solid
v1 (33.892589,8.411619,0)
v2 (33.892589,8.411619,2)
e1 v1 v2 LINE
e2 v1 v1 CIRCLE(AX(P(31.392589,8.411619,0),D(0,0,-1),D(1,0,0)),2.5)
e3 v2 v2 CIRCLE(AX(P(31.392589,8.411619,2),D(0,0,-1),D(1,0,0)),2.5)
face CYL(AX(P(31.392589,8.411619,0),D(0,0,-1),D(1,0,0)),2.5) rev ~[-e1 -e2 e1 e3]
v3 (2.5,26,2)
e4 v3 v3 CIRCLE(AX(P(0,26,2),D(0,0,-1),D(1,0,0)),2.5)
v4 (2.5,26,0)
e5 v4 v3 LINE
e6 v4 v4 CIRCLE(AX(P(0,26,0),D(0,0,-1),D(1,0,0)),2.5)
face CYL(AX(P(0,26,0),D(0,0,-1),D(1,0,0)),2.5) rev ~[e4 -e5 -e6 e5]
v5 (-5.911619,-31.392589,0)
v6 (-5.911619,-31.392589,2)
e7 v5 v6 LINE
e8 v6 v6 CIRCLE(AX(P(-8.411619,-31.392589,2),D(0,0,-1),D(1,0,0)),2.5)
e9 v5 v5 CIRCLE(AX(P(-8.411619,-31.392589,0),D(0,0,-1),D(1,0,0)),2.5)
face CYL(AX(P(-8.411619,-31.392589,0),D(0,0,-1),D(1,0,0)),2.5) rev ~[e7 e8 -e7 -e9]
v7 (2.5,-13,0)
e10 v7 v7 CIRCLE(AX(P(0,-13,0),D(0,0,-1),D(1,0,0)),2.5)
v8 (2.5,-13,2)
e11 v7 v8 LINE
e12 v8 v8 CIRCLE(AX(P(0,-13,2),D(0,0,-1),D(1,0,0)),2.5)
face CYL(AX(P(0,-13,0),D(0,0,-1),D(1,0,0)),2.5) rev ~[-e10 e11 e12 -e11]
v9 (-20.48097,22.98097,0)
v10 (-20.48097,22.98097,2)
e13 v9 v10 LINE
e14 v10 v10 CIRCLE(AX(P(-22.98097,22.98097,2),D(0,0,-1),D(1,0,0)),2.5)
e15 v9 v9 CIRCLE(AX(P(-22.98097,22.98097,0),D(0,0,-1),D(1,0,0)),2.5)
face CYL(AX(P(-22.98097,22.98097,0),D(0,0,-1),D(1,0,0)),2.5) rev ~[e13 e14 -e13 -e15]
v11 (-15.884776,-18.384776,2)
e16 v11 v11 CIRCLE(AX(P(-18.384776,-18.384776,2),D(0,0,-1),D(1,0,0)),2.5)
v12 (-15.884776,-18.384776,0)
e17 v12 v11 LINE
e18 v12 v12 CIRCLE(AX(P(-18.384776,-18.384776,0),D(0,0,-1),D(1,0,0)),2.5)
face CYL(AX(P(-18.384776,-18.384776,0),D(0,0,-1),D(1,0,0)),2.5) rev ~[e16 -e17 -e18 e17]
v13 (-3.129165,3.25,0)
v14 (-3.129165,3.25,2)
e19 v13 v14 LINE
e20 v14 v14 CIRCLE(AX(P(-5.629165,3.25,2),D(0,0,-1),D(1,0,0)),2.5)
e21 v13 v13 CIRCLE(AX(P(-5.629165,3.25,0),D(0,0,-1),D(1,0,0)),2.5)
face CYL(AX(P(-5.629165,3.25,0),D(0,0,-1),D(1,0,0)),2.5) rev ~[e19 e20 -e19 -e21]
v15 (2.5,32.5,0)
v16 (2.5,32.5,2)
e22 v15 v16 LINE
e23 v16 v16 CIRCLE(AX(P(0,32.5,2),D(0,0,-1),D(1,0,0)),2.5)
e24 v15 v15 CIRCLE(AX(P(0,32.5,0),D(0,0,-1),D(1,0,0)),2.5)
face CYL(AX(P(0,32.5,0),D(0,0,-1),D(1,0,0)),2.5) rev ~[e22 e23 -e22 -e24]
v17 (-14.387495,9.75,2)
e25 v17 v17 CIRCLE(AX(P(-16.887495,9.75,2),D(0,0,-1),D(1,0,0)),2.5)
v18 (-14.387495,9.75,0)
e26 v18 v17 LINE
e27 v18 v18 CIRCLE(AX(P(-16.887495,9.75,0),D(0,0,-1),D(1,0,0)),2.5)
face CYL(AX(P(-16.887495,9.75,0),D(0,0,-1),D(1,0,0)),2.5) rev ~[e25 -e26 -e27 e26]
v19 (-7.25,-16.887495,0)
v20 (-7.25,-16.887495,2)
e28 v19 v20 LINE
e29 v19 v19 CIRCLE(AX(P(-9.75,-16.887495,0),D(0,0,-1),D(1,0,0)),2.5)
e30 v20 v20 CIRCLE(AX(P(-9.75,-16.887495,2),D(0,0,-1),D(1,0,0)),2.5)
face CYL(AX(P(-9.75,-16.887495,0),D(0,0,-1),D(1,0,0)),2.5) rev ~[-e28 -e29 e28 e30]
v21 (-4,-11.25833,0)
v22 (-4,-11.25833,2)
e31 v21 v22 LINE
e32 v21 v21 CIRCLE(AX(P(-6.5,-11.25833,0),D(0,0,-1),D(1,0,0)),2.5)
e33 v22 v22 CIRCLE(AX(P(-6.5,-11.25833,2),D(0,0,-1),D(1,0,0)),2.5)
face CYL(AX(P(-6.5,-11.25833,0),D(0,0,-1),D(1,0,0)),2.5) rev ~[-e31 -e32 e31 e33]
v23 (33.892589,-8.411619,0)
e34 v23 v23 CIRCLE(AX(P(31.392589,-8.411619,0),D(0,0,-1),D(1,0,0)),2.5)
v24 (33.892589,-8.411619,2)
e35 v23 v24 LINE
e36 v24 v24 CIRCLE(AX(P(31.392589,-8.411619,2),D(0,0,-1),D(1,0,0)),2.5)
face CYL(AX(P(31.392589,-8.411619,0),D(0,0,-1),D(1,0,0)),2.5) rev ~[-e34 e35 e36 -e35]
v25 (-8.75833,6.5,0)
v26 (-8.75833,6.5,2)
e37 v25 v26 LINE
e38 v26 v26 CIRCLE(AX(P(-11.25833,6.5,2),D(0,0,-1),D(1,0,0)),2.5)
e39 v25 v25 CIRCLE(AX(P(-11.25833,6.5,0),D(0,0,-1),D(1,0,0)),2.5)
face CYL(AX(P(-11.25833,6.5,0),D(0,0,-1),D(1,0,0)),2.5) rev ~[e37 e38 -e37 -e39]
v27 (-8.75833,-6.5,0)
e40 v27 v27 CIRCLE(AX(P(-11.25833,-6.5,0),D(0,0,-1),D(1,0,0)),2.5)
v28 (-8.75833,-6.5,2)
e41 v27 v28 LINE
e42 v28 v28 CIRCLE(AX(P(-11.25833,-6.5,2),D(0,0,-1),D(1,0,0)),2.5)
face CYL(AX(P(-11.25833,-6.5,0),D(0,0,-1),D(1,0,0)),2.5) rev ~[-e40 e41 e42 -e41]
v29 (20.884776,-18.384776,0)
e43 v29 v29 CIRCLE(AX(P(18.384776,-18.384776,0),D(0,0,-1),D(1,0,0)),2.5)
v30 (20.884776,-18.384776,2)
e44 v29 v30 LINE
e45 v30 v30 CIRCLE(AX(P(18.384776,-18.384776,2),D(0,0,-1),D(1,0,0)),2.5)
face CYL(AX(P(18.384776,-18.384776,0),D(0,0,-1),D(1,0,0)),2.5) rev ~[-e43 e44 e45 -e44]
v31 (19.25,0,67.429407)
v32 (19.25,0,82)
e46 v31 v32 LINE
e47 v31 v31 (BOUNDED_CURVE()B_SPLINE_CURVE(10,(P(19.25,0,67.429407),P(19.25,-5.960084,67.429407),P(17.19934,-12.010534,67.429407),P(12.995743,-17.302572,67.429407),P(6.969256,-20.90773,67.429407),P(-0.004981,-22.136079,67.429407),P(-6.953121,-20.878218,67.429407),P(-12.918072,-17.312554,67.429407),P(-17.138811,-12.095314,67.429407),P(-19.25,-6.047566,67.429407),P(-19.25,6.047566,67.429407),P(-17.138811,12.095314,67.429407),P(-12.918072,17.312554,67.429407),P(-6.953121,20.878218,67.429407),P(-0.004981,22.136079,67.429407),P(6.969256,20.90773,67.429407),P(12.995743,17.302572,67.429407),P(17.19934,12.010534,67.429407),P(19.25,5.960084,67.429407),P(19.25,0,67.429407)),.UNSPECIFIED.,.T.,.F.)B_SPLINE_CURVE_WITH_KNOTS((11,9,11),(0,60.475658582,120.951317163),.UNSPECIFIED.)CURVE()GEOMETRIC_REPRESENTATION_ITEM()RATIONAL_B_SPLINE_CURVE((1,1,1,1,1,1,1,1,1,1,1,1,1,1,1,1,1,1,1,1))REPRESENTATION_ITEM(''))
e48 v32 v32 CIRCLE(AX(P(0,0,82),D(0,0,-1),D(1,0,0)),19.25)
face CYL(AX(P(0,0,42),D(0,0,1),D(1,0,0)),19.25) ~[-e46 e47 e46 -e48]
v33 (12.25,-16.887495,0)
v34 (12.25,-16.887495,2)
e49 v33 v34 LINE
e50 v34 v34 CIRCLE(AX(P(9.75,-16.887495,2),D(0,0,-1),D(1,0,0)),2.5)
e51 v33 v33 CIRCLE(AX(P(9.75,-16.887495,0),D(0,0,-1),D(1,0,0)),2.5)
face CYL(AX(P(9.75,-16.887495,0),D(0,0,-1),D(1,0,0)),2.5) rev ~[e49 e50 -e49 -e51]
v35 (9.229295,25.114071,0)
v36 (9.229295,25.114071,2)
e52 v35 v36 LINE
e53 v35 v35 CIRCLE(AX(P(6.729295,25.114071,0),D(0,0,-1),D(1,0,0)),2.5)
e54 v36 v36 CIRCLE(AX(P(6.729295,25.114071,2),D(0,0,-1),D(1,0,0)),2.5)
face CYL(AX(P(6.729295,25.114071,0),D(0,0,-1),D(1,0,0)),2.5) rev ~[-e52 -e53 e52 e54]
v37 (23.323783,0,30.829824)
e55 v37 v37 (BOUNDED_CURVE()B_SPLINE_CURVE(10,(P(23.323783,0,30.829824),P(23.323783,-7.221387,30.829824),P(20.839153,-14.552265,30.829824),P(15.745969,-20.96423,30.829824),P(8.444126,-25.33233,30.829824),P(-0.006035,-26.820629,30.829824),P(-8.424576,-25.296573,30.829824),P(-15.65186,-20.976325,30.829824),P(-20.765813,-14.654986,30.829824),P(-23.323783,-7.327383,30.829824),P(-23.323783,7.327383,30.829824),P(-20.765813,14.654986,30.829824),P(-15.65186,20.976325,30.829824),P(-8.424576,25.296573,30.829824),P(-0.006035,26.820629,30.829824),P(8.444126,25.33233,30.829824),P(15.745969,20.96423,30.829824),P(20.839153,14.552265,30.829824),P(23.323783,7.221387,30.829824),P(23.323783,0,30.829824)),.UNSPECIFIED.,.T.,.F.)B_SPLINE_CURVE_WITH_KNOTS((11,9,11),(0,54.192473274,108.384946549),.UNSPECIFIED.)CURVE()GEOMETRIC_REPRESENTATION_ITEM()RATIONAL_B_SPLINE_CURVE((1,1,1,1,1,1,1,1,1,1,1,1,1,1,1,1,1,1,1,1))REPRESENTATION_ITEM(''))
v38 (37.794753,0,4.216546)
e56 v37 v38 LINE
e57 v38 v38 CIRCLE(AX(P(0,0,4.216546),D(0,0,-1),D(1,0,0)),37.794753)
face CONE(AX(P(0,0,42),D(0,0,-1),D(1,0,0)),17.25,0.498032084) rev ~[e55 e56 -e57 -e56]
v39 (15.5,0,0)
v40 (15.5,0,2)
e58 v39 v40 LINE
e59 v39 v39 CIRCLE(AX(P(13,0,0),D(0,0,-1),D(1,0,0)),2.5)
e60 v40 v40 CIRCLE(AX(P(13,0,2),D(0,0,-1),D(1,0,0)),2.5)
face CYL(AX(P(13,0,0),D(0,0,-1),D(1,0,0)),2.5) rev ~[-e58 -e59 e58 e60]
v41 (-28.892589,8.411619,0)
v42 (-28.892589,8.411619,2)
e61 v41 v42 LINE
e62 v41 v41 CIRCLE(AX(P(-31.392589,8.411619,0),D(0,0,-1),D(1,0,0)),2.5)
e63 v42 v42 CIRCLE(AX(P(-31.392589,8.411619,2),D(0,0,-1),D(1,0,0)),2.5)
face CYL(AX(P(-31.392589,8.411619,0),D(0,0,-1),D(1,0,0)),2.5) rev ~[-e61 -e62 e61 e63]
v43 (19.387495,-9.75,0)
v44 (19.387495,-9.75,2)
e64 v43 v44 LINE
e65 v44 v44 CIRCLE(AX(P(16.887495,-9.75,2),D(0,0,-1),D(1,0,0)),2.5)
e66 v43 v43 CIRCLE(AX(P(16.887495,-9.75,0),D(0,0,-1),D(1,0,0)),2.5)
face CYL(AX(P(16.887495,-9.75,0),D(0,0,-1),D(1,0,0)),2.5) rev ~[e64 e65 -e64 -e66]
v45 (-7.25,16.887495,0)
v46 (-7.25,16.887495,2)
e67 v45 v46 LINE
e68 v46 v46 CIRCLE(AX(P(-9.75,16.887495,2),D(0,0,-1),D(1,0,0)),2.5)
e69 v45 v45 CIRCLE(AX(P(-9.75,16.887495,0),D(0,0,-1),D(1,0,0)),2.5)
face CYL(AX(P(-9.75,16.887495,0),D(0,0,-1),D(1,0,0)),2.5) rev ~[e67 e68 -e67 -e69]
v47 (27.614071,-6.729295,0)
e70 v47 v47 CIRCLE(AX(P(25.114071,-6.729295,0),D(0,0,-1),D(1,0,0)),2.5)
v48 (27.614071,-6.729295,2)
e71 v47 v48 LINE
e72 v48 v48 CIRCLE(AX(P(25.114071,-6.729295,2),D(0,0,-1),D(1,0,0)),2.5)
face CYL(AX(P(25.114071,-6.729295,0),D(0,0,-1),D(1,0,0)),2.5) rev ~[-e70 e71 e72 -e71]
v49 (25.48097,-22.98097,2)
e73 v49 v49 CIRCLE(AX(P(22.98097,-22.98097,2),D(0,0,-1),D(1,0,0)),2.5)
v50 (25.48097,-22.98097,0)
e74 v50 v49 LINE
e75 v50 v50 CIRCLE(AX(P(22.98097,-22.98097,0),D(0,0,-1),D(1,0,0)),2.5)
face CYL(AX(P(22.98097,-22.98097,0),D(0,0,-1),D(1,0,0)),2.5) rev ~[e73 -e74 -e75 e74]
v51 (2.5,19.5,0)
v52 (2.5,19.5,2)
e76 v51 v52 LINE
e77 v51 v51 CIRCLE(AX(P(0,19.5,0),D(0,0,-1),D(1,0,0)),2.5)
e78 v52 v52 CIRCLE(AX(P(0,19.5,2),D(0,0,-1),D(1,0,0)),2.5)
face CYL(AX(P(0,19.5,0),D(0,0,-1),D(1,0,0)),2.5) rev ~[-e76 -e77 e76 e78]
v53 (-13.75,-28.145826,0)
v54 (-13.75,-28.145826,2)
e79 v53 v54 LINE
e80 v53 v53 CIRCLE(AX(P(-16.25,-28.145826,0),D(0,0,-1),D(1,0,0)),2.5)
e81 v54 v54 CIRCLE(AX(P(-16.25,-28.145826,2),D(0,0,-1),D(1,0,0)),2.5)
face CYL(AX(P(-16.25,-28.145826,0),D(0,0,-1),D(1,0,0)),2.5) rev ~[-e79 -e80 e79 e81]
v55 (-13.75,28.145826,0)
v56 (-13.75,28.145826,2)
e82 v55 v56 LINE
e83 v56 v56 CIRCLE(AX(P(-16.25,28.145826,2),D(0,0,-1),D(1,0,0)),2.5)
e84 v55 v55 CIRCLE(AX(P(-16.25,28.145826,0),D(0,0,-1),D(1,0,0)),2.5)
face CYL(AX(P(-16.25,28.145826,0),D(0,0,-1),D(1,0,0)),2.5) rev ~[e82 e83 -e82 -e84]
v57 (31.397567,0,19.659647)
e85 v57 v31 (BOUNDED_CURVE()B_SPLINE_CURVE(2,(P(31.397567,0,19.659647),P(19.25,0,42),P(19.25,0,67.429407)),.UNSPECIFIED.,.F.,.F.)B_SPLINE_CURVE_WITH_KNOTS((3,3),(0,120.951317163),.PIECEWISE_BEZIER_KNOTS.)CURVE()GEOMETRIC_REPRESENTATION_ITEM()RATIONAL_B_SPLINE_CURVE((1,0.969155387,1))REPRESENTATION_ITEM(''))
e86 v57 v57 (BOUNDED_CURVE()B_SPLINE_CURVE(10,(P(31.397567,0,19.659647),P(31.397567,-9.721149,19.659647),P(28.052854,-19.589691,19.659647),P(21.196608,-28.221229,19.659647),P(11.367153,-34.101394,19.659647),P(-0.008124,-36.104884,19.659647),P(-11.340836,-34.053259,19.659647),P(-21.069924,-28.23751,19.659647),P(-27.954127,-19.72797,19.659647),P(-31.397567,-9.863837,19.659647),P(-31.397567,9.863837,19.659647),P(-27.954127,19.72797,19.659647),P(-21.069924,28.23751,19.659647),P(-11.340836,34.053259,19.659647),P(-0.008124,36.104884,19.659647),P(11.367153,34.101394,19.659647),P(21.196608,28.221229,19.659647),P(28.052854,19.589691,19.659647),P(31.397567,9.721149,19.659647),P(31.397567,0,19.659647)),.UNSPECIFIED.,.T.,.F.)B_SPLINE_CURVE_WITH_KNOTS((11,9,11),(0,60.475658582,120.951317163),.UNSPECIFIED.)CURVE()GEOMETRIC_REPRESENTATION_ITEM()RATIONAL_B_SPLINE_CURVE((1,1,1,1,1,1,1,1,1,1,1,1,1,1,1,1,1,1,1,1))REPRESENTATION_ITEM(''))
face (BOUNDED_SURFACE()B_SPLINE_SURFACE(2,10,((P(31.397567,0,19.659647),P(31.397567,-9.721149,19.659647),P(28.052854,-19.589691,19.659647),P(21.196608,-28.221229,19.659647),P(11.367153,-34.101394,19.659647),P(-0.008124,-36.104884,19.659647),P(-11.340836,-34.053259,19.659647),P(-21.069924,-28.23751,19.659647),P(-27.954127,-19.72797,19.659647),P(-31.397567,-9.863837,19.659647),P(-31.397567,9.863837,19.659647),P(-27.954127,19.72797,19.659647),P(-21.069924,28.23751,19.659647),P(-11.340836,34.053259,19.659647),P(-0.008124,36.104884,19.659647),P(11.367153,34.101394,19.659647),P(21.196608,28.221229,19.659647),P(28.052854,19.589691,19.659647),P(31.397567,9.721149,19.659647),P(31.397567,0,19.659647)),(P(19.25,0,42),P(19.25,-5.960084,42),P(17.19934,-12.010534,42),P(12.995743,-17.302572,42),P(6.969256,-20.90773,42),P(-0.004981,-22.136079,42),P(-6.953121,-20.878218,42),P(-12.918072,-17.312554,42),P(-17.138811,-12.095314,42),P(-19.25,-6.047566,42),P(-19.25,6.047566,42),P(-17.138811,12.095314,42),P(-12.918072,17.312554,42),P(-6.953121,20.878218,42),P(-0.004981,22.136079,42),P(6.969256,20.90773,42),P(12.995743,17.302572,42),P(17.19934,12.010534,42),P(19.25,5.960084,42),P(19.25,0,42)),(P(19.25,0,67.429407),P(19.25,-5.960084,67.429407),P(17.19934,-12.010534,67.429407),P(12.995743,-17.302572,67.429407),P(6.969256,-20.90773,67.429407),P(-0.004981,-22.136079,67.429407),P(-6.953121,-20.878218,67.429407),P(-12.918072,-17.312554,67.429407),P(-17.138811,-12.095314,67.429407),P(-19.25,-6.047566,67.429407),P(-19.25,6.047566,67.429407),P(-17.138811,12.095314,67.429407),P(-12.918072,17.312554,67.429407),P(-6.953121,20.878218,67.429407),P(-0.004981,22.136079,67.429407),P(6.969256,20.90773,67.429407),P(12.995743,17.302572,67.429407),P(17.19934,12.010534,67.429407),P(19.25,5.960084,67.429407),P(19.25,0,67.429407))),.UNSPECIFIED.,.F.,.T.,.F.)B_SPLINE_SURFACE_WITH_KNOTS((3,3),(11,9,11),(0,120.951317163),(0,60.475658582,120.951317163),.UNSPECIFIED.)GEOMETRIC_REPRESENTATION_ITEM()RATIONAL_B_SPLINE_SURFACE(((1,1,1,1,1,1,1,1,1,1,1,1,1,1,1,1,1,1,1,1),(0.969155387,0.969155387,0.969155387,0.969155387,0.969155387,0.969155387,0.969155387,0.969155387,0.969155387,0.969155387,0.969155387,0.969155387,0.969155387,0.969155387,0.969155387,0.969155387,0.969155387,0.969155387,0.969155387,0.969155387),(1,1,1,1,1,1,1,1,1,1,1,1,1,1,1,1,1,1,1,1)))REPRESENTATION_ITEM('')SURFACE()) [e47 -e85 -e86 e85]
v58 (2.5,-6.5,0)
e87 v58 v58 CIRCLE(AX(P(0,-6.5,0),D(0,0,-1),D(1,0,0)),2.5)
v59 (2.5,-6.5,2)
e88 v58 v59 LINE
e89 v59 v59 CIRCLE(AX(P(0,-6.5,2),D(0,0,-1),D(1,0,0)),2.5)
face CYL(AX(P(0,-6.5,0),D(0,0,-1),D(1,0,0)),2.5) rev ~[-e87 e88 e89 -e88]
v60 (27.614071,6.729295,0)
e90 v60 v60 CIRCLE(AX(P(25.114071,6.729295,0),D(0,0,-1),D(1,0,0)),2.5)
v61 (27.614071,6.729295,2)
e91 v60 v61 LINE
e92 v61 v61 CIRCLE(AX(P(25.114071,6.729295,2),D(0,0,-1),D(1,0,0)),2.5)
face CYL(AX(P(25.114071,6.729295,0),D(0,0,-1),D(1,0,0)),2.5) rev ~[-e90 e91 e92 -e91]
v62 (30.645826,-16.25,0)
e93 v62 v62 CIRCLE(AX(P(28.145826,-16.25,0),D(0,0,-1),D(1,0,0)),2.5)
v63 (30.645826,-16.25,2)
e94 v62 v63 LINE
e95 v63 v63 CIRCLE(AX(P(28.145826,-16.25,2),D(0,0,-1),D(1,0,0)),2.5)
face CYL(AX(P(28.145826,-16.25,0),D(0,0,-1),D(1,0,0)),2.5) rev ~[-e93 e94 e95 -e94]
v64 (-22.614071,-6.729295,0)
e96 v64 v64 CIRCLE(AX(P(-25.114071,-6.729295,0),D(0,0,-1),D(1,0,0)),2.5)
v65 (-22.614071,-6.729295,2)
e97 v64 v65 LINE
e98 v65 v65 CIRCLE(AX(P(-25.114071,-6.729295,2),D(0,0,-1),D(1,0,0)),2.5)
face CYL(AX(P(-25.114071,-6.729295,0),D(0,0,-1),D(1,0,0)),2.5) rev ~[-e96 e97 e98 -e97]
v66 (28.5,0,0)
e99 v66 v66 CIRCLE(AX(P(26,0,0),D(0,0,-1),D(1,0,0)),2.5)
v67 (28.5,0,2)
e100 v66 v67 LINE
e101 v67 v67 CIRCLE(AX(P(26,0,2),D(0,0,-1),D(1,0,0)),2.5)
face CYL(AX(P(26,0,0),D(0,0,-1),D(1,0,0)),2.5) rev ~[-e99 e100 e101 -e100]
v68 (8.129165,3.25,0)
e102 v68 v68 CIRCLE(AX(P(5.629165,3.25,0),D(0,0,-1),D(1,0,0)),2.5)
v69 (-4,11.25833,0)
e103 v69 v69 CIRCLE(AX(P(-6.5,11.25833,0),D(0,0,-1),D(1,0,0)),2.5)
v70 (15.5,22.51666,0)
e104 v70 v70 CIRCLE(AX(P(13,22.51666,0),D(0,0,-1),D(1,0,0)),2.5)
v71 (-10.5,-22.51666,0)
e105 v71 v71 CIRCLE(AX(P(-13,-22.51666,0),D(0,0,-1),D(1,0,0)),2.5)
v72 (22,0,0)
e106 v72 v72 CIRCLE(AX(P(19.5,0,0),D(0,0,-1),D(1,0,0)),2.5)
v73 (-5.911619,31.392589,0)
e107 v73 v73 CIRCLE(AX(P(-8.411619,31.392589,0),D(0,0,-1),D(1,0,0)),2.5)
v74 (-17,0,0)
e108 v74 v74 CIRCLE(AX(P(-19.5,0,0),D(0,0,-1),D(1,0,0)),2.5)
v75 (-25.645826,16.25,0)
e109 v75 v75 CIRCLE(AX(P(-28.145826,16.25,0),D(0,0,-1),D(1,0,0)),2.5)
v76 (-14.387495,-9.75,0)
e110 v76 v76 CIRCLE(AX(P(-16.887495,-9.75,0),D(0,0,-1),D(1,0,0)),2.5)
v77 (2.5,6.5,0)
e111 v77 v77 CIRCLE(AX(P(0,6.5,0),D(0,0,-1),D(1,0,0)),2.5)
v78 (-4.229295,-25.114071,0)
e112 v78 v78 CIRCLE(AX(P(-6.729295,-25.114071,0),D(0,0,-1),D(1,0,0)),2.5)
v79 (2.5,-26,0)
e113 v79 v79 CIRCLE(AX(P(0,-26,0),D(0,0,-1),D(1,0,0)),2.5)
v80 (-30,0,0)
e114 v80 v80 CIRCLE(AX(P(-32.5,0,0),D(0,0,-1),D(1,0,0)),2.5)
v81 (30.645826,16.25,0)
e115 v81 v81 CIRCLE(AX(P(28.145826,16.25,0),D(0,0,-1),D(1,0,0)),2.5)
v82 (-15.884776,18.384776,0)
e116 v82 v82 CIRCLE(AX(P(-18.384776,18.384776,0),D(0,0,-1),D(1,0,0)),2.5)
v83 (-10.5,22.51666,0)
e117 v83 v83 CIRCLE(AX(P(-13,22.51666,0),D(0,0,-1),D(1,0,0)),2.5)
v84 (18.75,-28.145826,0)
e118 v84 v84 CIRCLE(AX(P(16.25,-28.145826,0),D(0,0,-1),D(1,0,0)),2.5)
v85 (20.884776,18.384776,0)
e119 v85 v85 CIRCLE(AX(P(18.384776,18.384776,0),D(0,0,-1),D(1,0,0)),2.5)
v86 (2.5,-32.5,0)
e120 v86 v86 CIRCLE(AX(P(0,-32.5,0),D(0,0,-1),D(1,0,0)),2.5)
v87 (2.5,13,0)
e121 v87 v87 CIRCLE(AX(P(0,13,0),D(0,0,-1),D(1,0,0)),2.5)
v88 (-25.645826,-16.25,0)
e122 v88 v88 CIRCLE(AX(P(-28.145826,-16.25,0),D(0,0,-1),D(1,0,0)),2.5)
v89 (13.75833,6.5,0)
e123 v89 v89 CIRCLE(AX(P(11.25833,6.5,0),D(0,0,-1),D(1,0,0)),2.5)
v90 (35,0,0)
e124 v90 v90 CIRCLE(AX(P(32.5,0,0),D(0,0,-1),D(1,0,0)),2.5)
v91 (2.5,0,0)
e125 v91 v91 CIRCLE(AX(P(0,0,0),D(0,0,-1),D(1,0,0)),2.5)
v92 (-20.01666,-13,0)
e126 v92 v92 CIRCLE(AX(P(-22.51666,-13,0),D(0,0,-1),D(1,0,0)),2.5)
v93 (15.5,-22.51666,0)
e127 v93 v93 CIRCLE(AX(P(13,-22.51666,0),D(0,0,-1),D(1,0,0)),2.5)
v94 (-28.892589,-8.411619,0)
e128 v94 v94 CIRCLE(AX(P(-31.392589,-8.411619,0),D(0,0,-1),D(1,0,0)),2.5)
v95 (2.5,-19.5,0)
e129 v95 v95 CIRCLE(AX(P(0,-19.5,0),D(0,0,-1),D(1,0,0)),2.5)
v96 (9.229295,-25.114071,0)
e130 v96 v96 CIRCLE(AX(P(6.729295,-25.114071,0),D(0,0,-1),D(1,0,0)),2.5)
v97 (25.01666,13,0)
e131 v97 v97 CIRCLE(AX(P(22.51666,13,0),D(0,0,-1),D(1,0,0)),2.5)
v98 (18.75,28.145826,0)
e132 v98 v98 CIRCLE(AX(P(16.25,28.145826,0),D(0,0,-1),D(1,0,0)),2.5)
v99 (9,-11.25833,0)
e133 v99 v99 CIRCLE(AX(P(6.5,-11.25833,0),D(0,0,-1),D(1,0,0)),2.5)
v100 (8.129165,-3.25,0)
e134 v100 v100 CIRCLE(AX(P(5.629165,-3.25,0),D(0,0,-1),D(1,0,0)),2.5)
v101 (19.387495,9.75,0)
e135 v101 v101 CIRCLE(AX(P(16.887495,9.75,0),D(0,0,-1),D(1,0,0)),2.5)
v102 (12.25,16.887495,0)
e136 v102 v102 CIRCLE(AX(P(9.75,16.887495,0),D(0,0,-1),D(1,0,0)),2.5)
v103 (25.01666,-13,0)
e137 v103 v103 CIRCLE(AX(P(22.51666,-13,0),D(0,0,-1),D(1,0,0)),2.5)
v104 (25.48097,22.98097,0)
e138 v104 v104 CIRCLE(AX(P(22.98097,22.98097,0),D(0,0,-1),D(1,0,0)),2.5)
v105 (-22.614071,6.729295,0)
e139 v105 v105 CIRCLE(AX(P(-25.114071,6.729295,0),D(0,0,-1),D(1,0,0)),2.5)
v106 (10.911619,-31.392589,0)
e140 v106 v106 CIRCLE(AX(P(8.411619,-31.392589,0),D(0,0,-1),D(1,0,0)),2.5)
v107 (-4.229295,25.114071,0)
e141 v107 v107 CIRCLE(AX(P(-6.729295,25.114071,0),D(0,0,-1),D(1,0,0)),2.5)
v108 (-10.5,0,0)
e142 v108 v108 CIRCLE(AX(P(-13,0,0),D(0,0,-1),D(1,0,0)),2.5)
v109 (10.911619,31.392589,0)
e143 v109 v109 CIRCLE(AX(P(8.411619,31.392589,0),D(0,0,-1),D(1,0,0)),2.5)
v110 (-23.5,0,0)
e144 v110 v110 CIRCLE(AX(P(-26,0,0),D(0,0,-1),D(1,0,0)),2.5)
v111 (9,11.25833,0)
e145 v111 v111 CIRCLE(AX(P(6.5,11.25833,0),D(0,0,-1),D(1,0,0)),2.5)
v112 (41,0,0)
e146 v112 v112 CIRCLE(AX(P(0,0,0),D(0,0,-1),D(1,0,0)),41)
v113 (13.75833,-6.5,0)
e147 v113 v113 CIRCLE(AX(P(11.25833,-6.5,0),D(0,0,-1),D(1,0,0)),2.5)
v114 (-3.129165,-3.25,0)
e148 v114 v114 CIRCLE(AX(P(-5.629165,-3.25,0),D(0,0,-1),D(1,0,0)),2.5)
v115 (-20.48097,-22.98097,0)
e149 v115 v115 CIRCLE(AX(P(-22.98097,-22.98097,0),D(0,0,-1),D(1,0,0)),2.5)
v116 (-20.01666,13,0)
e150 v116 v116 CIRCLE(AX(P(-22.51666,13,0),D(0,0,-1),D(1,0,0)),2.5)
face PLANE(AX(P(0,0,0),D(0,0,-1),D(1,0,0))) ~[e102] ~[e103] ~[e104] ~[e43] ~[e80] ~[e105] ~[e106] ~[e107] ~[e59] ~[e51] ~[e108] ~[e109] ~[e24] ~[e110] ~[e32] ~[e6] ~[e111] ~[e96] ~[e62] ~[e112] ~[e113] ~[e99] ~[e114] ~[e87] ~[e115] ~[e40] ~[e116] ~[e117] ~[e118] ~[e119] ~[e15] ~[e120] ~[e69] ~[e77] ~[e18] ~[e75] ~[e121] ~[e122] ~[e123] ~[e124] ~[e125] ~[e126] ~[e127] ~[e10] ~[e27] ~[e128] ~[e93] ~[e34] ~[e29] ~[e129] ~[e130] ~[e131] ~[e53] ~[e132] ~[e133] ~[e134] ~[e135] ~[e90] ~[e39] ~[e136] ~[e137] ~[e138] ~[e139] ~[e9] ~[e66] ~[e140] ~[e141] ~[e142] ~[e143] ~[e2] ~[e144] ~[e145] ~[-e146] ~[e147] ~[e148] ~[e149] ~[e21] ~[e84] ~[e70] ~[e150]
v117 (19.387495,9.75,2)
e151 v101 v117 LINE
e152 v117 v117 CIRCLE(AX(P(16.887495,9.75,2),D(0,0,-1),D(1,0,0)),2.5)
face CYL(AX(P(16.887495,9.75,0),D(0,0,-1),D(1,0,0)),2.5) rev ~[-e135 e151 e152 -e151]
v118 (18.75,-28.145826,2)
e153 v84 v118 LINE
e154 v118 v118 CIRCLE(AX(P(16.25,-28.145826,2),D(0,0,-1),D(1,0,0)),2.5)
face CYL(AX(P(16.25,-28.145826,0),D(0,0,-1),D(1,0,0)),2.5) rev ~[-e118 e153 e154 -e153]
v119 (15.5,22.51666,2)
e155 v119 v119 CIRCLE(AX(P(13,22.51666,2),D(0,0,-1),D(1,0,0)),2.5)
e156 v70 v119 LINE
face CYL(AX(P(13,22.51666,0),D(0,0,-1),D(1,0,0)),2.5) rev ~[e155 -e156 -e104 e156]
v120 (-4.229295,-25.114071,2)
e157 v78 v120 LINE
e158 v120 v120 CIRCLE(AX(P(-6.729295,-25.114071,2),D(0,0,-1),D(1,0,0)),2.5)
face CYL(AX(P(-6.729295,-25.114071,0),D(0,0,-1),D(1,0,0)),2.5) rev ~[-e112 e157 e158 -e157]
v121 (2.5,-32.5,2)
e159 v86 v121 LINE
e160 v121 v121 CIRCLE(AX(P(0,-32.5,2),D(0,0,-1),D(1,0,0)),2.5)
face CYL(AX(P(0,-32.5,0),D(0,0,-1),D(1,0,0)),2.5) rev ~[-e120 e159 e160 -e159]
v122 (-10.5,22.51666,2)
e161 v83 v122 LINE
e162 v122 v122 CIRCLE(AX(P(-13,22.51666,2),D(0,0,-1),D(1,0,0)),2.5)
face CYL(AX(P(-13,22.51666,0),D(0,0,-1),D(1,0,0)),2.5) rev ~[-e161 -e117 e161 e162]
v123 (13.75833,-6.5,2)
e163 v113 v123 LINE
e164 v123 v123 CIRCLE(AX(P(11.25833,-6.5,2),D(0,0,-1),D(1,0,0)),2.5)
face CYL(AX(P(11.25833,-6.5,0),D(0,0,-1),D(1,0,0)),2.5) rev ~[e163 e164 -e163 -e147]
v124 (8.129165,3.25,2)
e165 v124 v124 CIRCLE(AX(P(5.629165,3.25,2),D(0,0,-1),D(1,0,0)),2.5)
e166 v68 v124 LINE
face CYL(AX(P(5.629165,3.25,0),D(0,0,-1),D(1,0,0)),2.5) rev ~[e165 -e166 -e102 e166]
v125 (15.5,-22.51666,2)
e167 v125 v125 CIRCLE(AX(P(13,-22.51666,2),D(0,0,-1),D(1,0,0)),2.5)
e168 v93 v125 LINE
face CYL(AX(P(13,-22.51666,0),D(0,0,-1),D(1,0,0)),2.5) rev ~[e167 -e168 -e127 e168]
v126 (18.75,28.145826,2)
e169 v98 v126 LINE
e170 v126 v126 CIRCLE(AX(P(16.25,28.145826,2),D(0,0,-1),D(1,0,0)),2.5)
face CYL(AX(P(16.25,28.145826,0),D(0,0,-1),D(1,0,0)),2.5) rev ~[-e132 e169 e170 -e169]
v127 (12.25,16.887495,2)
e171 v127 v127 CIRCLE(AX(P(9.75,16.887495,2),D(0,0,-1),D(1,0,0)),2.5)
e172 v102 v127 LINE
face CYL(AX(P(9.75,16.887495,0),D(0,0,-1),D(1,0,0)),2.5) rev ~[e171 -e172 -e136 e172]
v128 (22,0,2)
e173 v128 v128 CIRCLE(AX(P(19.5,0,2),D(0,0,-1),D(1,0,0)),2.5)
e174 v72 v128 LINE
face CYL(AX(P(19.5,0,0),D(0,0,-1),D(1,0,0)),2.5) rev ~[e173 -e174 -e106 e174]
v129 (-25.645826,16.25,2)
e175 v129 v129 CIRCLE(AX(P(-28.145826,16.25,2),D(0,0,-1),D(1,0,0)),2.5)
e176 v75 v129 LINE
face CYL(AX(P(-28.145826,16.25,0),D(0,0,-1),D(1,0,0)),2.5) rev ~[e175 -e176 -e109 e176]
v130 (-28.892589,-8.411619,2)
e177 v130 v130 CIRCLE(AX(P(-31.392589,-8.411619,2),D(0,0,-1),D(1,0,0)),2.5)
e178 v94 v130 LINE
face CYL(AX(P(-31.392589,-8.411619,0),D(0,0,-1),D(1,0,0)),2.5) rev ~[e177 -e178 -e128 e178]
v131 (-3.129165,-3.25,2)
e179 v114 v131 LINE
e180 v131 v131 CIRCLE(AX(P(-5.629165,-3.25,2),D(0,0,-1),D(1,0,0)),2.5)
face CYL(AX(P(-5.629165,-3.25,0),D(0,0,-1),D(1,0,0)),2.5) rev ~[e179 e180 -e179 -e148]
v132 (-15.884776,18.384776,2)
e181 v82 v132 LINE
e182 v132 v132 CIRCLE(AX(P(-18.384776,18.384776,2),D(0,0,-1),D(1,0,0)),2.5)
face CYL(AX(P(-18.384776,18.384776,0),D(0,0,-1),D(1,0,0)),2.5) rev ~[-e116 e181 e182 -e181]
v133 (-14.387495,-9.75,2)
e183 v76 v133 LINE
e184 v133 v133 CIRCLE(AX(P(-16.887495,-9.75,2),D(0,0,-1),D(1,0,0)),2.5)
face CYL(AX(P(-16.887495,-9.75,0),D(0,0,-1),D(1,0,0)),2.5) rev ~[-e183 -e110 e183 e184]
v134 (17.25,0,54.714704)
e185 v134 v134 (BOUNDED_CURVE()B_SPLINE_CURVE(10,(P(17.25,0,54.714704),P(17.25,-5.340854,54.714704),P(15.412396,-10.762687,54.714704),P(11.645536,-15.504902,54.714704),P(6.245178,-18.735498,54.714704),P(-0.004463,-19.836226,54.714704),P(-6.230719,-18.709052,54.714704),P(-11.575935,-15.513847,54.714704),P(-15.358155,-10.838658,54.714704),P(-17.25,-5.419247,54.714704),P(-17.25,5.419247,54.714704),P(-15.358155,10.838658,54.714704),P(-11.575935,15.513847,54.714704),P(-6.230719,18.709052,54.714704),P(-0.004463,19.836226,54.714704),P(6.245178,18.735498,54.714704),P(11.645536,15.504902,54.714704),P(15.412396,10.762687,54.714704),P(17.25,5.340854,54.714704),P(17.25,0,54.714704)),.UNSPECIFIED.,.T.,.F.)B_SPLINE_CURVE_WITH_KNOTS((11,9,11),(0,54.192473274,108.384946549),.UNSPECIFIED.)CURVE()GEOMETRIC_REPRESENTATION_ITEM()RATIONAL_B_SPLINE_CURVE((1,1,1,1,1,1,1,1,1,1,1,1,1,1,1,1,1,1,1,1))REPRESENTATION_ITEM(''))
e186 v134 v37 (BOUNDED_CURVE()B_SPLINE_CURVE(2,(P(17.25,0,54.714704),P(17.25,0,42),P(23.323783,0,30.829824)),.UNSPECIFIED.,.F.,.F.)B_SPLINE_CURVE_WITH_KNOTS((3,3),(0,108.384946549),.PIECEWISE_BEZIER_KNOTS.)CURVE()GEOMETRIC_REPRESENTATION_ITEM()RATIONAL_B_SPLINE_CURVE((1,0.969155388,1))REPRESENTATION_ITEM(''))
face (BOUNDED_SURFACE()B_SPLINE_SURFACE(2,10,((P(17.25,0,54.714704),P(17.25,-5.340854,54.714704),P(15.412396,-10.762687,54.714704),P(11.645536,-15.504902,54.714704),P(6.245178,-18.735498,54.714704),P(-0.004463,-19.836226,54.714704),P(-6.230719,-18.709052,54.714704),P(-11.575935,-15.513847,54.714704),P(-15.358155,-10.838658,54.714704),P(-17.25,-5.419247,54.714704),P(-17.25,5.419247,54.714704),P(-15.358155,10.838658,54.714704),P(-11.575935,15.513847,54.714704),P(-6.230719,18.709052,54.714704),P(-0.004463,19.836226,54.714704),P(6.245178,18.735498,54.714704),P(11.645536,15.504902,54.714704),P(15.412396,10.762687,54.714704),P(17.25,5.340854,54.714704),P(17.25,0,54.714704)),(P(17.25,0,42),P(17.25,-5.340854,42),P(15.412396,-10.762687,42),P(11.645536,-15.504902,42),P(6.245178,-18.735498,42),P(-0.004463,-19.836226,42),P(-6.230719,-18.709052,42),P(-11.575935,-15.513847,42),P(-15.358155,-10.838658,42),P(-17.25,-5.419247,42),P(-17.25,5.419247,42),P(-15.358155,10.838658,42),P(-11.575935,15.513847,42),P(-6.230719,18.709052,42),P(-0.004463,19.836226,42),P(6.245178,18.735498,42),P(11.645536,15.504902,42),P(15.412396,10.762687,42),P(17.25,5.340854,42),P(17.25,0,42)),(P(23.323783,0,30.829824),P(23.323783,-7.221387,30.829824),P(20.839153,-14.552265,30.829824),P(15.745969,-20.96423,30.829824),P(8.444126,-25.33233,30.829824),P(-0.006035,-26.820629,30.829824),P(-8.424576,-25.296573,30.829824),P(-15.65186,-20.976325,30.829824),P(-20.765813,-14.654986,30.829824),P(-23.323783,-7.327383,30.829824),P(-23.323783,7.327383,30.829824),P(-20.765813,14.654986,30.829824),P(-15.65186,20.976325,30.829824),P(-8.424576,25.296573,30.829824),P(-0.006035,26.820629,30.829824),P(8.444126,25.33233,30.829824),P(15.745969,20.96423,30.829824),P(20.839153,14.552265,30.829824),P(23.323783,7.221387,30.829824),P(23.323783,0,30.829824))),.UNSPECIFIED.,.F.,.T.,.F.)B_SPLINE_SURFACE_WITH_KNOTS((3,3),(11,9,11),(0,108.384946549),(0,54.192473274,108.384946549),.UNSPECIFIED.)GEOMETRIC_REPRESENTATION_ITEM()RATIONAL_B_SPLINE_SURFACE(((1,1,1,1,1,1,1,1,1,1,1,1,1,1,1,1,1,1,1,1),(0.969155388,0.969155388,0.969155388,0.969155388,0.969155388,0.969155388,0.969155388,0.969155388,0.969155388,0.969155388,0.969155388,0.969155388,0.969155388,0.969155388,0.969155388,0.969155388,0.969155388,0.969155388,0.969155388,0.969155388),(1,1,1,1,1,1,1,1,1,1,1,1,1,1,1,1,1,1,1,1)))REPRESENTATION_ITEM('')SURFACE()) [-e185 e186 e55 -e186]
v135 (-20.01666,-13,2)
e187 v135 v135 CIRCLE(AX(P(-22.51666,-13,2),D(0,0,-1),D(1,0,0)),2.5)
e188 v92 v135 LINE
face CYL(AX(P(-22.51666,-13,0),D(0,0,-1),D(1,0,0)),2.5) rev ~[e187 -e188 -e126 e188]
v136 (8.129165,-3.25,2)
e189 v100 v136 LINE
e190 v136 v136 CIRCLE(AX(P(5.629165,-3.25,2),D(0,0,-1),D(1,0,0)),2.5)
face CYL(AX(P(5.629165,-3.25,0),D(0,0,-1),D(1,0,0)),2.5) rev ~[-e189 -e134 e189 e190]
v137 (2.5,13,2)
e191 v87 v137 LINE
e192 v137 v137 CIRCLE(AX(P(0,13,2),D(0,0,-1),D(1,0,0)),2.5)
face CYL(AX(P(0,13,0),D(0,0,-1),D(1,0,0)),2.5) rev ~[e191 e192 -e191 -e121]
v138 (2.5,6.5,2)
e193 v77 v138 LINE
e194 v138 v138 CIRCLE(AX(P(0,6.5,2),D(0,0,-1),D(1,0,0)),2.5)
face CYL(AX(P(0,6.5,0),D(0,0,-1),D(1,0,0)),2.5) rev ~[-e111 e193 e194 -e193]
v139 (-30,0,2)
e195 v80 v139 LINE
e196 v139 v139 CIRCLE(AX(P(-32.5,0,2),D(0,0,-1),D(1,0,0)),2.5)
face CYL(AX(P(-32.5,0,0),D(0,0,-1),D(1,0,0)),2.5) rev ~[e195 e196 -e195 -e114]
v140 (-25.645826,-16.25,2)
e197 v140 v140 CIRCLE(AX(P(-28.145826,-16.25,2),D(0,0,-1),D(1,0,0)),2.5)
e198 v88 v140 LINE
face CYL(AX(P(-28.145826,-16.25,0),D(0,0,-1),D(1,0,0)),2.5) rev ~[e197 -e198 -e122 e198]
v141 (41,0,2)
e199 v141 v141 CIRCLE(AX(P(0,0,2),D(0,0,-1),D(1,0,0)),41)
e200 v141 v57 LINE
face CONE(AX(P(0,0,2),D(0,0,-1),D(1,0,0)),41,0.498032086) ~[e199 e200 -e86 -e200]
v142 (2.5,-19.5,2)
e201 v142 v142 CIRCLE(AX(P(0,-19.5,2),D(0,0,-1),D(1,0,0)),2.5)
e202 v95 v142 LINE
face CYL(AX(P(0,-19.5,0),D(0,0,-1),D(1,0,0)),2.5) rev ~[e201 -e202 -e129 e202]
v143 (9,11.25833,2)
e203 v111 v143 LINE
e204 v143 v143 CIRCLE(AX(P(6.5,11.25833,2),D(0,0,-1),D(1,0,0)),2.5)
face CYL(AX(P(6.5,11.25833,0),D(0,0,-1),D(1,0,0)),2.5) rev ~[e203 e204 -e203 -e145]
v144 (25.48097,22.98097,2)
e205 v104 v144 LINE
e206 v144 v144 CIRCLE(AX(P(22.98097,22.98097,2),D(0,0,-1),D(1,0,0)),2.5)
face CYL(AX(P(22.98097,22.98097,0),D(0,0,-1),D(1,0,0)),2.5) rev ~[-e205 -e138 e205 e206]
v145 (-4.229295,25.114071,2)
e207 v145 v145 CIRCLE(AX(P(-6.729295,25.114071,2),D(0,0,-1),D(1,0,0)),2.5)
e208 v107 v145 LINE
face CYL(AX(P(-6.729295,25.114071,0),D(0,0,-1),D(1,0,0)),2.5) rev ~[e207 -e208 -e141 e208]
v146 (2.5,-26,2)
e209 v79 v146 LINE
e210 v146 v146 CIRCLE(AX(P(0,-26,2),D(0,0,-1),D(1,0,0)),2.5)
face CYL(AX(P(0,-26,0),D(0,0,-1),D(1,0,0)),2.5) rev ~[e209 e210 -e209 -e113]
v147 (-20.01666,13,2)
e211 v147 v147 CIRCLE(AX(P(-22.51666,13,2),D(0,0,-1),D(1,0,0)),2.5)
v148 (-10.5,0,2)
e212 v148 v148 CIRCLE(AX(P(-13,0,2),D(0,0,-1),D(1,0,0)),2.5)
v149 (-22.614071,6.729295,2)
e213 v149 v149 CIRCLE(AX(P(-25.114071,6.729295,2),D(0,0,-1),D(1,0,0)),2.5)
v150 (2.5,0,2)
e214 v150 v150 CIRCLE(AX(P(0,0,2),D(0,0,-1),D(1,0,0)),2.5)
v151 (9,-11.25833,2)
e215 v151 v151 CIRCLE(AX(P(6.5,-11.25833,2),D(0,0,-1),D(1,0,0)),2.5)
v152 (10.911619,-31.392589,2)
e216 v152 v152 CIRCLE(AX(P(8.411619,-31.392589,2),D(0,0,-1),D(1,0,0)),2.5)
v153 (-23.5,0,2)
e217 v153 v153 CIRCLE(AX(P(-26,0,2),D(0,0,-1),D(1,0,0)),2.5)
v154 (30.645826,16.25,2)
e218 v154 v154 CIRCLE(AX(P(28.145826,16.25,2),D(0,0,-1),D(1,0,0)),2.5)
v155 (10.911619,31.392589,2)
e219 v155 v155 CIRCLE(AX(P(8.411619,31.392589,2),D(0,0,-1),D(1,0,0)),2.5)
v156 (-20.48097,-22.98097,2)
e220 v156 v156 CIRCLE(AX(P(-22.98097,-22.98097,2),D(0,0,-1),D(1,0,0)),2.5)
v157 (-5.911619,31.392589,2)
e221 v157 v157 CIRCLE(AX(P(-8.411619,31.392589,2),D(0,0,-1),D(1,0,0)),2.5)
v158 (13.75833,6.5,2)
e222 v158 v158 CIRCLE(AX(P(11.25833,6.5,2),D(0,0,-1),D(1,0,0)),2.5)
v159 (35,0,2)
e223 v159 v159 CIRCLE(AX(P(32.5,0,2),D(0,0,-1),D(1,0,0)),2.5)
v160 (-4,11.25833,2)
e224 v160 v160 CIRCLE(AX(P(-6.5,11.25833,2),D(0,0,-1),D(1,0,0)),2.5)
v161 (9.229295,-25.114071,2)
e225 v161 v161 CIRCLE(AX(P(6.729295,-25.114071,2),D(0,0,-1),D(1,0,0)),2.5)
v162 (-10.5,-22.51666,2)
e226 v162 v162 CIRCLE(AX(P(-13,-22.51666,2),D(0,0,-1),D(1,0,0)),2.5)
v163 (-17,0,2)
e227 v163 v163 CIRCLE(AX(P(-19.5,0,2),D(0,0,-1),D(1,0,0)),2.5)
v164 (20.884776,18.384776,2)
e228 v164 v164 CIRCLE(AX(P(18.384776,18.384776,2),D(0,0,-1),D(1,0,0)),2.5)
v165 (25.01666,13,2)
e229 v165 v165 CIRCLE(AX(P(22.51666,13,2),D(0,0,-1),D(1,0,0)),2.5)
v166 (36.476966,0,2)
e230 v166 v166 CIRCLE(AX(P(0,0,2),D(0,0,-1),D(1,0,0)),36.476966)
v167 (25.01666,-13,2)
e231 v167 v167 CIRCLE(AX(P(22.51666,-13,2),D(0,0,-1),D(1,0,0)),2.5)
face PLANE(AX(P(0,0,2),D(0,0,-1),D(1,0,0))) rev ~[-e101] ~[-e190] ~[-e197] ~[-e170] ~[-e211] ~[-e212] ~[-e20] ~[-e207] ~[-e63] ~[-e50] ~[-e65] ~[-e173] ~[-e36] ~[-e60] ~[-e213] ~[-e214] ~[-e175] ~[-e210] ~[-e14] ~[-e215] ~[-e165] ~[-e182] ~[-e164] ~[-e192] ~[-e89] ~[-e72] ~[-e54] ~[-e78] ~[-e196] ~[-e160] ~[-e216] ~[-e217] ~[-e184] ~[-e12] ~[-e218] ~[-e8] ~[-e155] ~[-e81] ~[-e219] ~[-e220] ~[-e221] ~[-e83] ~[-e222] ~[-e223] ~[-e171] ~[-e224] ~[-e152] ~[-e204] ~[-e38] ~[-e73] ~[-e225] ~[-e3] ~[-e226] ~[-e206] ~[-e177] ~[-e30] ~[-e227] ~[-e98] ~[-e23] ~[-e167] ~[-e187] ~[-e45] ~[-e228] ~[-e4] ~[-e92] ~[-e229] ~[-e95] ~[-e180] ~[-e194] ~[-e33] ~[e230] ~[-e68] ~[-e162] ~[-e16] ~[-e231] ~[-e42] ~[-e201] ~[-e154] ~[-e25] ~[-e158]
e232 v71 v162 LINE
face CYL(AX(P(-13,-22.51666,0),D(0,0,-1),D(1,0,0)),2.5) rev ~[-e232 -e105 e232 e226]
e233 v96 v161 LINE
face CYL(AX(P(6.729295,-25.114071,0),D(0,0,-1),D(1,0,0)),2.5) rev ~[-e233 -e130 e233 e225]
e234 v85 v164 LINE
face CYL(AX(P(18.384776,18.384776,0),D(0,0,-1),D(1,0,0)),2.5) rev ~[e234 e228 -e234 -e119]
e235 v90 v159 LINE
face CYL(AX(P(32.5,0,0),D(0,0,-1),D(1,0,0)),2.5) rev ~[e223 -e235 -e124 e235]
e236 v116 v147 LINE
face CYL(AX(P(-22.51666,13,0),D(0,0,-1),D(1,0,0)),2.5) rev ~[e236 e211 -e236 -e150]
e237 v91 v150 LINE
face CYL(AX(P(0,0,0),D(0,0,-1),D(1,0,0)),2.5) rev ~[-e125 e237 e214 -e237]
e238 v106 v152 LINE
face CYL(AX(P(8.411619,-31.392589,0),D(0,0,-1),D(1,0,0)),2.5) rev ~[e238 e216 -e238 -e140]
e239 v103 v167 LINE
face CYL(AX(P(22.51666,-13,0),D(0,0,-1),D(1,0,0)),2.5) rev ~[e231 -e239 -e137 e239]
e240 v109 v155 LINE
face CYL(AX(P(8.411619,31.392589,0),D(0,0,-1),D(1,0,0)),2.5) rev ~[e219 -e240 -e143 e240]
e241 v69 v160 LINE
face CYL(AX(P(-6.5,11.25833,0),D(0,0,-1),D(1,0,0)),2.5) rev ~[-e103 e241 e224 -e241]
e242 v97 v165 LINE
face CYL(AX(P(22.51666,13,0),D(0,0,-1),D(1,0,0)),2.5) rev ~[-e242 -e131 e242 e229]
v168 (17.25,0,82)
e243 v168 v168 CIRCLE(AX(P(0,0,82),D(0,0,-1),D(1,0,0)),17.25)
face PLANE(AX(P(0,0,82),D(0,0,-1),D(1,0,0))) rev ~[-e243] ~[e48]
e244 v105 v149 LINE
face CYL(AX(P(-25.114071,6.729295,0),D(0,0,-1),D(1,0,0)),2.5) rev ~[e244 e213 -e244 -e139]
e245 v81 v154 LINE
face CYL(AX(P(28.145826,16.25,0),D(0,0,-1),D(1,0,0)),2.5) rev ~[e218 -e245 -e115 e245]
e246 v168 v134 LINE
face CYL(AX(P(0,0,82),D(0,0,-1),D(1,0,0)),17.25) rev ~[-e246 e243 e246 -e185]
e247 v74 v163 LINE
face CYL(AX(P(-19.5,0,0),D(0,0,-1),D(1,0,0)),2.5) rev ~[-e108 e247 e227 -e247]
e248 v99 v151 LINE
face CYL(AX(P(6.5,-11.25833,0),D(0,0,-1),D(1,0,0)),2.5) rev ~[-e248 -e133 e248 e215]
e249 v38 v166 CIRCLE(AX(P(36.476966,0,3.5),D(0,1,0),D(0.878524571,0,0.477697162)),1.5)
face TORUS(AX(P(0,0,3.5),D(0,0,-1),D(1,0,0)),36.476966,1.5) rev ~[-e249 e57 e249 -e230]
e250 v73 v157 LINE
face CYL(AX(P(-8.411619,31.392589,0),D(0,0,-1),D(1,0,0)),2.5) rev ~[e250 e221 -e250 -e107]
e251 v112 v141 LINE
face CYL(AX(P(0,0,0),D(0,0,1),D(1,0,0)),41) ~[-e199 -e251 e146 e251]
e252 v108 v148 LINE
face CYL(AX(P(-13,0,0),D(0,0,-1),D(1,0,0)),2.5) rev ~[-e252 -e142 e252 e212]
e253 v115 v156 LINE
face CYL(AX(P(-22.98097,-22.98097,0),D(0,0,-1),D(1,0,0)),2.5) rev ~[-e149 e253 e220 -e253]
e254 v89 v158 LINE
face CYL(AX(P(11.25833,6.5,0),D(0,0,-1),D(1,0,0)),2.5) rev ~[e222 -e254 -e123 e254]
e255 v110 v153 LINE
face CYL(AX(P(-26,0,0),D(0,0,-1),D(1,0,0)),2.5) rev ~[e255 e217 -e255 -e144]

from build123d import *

# Parameters (mm, degrees)
F2_R     = 100
F3_R     = 50
F4_R     = 2.5
F5_DEPTH = 2


with BuildPart() as f1:
    # F0 (on Front) → F1 (revolve)
    with BuildSketch(Plane.XZ):
        with BuildLine():
            Line((0, 2), (0, 0))
            Line((0, 0), (41, 0))
            Line((41, 0), (41, 2))
            Line((41, 2), (19.25, 42))
            Line((19.25, 42), (19.25, 82))
            Line((19.25, 82), (17.25, 82))
            Line((17.25, 82), (17.25, 42))
            Line((17.25, 42), (37.794753, 4.216546))
            ThreePointArc((37.794753, 4.216546), (37.766311, 2.733456), (36.476966, 2))
            Line((36.476966, 2), (0, 2))
        make_face()
    revolve(axis=Axis((0, 0, 1), (0, 0, -1)))

    # F2
    f2_edges = [f1.edges().sort_by_distance(p)[0] for p in [
        (-19.25, 0, 42),
    ]]
    fillet(f2_edges, radius=F2_R)

    # F3
    f3_edges = [f1.edges().sort_by_distance(p)[0] for p in [
        (-17.25, 0, 42),
    ]]
    fillet(f3_edges, radius=F3_R)

    # F4 (on face) → F5 (cut, through all)
    with BuildSketch(Plane(origin=(0, 0, 0), x_dir=(1, 0, 0), z_dir=(0, 0, -1))):
        Circle(F4_R)
        with Locations((0, 6.5)):
            Circle(F4_R)
        with Locations((0, 13)):
            Circle(F4_R)
        with Locations((0, 19.5)):
            Circle(F4_R)
        with Locations((0, 26)):
            Circle(F4_R)
        with Locations((0, 32.5)):
            Circle(F4_R)
        with Locations((-5.629165, 3.25)):
            Circle(F4_R)
        with Locations((-11.25833, 6.5)):
            Circle(F4_R)
        with Locations((-16.887495, 9.75)):
            Circle(F4_R)
        with Locations((-22.51666, 13)):
            Circle(F4_R)
        with Locations((-28.145826, 16.25)):
            Circle(F4_R)
        with Locations((-5.629165, -3.25)):
            Circle(F4_R)
        with Locations((-11.25833, -6.5)):
            Circle(F4_R)
        with Locations((-16.887495, -9.75)):
            Circle(F4_R)
        with Locations((-22.51666, -13)):
            Circle(F4_R)
        with Locations((-28.145826, -16.25)):
            Circle(F4_R)
        with Locations((0, -6.5)):
            Circle(F4_R)
        with Locations((0, -13)):
            Circle(F4_R)
        with Locations((0, -19.5)):
            Circle(F4_R)
        with Locations((0, -26)):
            Circle(F4_R)
        with Locations((0, -32.5)):
            Circle(F4_R)
        with Locations((5.629165, -3.25)):
            Circle(F4_R)
        with Locations((11.25833, -6.5)):
            Circle(F4_R)
        with Locations((16.887495, -9.75)):
            Circle(F4_R)
        with Locations((22.51666, -13)):
            Circle(F4_R)
        with Locations((28.145826, -16.25)):
            Circle(F4_R)
        with Locations((5.629165, 3.25)):
            Circle(F4_R)
        with Locations((11.25833, 6.5)):
            Circle(F4_R)
        with Locations((16.887495, 9.75)):
            Circle(F4_R)
        with Locations((22.51666, 13)):
            Circle(F4_R)
        with Locations((28.145826, 16.25)):
            Circle(F4_R)
        with Locations((-6.5, 11.25833)):
            Circle(F4_R)
        with Locations((-9.75, 16.887495)):
            Circle(F4_R)
        with Locations((-13, 22.51666)):
            Circle(F4_R)
        with Locations((-16.25, 28.145826)):
            Circle(F4_R)
        with Locations((-13, 0)):
            Circle(F4_R)
        with Locations((-19.5, 0)):
            Circle(F4_R)
        with Locations((-26, 0)):
            Circle(F4_R)
        with Locations((-32.5, 0)):
            Circle(F4_R)
        with Locations((-6.5, -11.25833)):
            Circle(F4_R)
        with Locations((-9.75, -16.887495)):
            Circle(F4_R)
        with Locations((-13, -22.51666)):
            Circle(F4_R)
        with Locations((-16.25, -28.145826)):
            Circle(F4_R)
        with Locations((6.5, -11.25833)):
            Circle(F4_R)
        with Locations((9.75, -16.887495)):
            Circle(F4_R)
        with Locations((13, -22.51666)):
            Circle(F4_R)
        with Locations((16.25, -28.145826)):
            Circle(F4_R)
        with Locations((13, 0)):
            Circle(F4_R)
        with Locations((19.5, 0)):
            Circle(F4_R)
        with Locations((26, 0)):
            Circle(F4_R)
        with Locations((32.5, 0)):
            Circle(F4_R)
        with Locations((6.5, 11.25833)):
            Circle(F4_R)
        with Locations((9.75, 16.887495)):
            Circle(F4_R)
        with Locations((13, 22.51666)):
            Circle(F4_R)
        with Locations((16.25, 28.145826)):
            Circle(F4_R)
        with Locations((-6.729295, 25.114071)):
            Circle(F4_R)
        with Locations((-8.411619, 31.392589)):
            Circle(F4_R)
        with Locations((-18.384776, 18.384776)):
            Circle(F4_R)
        with Locations((-22.98097, 22.98097)):
            Circle(F4_R)
        with Locations((-25.114071, 6.729295)):
            Circle(F4_R)
        with Locations((-31.392589, 8.411619)):
            Circle(F4_R)
        with Locations((-25.114071, -6.729295)):
            Circle(F4_R)
        with Locations((-31.392589, -8.411619)):
            Circle(F4_R)
        with Locations((-18.384776, -18.384776)):
            Circle(F4_R)
        with Locations((-22.98097, -22.98097)):
            Circle(F4_R)
        with Locations((-6.729295, -25.114071)):
            Circle(F4_R)
        with Locations((-8.411619, -31.392589)):
            Circle(F4_R)
        with Locations((6.729295, -25.114071)):
            Circle(F4_R)
        with Locations((8.411619, -31.392589)):
            Circle(F4_R)
        with Locations((18.384776, -18.384776)):
            Circle(F4_R)
        with Locations((22.98097, -22.98097)):
            Circle(F4_R)
        with Locations((25.114071, -6.729295)):
            Circle(F4_R)
        with Locations((31.392589, -8.411619)):
            Circle(F4_R)
        with Locations((25.114071, 6.729295)):
            Circle(F4_R)
        with Locations((31.392589, 8.411619)):
            Circle(F4_R)
        with Locations((18.384776, 18.384776)):
            Circle(F4_R)
        with Locations((22.98097, 22.98097)):
            Circle(F4_R)
        with Locations((6.729295, 25.114071)):
            Circle(F4_R)
        with Locations((8.411619, 31.392589)):
            Circle(F4_R)
    extrude(amount=-F5_DEPTH, mode=Mode.SUBTRACT)


solid = f1.part
